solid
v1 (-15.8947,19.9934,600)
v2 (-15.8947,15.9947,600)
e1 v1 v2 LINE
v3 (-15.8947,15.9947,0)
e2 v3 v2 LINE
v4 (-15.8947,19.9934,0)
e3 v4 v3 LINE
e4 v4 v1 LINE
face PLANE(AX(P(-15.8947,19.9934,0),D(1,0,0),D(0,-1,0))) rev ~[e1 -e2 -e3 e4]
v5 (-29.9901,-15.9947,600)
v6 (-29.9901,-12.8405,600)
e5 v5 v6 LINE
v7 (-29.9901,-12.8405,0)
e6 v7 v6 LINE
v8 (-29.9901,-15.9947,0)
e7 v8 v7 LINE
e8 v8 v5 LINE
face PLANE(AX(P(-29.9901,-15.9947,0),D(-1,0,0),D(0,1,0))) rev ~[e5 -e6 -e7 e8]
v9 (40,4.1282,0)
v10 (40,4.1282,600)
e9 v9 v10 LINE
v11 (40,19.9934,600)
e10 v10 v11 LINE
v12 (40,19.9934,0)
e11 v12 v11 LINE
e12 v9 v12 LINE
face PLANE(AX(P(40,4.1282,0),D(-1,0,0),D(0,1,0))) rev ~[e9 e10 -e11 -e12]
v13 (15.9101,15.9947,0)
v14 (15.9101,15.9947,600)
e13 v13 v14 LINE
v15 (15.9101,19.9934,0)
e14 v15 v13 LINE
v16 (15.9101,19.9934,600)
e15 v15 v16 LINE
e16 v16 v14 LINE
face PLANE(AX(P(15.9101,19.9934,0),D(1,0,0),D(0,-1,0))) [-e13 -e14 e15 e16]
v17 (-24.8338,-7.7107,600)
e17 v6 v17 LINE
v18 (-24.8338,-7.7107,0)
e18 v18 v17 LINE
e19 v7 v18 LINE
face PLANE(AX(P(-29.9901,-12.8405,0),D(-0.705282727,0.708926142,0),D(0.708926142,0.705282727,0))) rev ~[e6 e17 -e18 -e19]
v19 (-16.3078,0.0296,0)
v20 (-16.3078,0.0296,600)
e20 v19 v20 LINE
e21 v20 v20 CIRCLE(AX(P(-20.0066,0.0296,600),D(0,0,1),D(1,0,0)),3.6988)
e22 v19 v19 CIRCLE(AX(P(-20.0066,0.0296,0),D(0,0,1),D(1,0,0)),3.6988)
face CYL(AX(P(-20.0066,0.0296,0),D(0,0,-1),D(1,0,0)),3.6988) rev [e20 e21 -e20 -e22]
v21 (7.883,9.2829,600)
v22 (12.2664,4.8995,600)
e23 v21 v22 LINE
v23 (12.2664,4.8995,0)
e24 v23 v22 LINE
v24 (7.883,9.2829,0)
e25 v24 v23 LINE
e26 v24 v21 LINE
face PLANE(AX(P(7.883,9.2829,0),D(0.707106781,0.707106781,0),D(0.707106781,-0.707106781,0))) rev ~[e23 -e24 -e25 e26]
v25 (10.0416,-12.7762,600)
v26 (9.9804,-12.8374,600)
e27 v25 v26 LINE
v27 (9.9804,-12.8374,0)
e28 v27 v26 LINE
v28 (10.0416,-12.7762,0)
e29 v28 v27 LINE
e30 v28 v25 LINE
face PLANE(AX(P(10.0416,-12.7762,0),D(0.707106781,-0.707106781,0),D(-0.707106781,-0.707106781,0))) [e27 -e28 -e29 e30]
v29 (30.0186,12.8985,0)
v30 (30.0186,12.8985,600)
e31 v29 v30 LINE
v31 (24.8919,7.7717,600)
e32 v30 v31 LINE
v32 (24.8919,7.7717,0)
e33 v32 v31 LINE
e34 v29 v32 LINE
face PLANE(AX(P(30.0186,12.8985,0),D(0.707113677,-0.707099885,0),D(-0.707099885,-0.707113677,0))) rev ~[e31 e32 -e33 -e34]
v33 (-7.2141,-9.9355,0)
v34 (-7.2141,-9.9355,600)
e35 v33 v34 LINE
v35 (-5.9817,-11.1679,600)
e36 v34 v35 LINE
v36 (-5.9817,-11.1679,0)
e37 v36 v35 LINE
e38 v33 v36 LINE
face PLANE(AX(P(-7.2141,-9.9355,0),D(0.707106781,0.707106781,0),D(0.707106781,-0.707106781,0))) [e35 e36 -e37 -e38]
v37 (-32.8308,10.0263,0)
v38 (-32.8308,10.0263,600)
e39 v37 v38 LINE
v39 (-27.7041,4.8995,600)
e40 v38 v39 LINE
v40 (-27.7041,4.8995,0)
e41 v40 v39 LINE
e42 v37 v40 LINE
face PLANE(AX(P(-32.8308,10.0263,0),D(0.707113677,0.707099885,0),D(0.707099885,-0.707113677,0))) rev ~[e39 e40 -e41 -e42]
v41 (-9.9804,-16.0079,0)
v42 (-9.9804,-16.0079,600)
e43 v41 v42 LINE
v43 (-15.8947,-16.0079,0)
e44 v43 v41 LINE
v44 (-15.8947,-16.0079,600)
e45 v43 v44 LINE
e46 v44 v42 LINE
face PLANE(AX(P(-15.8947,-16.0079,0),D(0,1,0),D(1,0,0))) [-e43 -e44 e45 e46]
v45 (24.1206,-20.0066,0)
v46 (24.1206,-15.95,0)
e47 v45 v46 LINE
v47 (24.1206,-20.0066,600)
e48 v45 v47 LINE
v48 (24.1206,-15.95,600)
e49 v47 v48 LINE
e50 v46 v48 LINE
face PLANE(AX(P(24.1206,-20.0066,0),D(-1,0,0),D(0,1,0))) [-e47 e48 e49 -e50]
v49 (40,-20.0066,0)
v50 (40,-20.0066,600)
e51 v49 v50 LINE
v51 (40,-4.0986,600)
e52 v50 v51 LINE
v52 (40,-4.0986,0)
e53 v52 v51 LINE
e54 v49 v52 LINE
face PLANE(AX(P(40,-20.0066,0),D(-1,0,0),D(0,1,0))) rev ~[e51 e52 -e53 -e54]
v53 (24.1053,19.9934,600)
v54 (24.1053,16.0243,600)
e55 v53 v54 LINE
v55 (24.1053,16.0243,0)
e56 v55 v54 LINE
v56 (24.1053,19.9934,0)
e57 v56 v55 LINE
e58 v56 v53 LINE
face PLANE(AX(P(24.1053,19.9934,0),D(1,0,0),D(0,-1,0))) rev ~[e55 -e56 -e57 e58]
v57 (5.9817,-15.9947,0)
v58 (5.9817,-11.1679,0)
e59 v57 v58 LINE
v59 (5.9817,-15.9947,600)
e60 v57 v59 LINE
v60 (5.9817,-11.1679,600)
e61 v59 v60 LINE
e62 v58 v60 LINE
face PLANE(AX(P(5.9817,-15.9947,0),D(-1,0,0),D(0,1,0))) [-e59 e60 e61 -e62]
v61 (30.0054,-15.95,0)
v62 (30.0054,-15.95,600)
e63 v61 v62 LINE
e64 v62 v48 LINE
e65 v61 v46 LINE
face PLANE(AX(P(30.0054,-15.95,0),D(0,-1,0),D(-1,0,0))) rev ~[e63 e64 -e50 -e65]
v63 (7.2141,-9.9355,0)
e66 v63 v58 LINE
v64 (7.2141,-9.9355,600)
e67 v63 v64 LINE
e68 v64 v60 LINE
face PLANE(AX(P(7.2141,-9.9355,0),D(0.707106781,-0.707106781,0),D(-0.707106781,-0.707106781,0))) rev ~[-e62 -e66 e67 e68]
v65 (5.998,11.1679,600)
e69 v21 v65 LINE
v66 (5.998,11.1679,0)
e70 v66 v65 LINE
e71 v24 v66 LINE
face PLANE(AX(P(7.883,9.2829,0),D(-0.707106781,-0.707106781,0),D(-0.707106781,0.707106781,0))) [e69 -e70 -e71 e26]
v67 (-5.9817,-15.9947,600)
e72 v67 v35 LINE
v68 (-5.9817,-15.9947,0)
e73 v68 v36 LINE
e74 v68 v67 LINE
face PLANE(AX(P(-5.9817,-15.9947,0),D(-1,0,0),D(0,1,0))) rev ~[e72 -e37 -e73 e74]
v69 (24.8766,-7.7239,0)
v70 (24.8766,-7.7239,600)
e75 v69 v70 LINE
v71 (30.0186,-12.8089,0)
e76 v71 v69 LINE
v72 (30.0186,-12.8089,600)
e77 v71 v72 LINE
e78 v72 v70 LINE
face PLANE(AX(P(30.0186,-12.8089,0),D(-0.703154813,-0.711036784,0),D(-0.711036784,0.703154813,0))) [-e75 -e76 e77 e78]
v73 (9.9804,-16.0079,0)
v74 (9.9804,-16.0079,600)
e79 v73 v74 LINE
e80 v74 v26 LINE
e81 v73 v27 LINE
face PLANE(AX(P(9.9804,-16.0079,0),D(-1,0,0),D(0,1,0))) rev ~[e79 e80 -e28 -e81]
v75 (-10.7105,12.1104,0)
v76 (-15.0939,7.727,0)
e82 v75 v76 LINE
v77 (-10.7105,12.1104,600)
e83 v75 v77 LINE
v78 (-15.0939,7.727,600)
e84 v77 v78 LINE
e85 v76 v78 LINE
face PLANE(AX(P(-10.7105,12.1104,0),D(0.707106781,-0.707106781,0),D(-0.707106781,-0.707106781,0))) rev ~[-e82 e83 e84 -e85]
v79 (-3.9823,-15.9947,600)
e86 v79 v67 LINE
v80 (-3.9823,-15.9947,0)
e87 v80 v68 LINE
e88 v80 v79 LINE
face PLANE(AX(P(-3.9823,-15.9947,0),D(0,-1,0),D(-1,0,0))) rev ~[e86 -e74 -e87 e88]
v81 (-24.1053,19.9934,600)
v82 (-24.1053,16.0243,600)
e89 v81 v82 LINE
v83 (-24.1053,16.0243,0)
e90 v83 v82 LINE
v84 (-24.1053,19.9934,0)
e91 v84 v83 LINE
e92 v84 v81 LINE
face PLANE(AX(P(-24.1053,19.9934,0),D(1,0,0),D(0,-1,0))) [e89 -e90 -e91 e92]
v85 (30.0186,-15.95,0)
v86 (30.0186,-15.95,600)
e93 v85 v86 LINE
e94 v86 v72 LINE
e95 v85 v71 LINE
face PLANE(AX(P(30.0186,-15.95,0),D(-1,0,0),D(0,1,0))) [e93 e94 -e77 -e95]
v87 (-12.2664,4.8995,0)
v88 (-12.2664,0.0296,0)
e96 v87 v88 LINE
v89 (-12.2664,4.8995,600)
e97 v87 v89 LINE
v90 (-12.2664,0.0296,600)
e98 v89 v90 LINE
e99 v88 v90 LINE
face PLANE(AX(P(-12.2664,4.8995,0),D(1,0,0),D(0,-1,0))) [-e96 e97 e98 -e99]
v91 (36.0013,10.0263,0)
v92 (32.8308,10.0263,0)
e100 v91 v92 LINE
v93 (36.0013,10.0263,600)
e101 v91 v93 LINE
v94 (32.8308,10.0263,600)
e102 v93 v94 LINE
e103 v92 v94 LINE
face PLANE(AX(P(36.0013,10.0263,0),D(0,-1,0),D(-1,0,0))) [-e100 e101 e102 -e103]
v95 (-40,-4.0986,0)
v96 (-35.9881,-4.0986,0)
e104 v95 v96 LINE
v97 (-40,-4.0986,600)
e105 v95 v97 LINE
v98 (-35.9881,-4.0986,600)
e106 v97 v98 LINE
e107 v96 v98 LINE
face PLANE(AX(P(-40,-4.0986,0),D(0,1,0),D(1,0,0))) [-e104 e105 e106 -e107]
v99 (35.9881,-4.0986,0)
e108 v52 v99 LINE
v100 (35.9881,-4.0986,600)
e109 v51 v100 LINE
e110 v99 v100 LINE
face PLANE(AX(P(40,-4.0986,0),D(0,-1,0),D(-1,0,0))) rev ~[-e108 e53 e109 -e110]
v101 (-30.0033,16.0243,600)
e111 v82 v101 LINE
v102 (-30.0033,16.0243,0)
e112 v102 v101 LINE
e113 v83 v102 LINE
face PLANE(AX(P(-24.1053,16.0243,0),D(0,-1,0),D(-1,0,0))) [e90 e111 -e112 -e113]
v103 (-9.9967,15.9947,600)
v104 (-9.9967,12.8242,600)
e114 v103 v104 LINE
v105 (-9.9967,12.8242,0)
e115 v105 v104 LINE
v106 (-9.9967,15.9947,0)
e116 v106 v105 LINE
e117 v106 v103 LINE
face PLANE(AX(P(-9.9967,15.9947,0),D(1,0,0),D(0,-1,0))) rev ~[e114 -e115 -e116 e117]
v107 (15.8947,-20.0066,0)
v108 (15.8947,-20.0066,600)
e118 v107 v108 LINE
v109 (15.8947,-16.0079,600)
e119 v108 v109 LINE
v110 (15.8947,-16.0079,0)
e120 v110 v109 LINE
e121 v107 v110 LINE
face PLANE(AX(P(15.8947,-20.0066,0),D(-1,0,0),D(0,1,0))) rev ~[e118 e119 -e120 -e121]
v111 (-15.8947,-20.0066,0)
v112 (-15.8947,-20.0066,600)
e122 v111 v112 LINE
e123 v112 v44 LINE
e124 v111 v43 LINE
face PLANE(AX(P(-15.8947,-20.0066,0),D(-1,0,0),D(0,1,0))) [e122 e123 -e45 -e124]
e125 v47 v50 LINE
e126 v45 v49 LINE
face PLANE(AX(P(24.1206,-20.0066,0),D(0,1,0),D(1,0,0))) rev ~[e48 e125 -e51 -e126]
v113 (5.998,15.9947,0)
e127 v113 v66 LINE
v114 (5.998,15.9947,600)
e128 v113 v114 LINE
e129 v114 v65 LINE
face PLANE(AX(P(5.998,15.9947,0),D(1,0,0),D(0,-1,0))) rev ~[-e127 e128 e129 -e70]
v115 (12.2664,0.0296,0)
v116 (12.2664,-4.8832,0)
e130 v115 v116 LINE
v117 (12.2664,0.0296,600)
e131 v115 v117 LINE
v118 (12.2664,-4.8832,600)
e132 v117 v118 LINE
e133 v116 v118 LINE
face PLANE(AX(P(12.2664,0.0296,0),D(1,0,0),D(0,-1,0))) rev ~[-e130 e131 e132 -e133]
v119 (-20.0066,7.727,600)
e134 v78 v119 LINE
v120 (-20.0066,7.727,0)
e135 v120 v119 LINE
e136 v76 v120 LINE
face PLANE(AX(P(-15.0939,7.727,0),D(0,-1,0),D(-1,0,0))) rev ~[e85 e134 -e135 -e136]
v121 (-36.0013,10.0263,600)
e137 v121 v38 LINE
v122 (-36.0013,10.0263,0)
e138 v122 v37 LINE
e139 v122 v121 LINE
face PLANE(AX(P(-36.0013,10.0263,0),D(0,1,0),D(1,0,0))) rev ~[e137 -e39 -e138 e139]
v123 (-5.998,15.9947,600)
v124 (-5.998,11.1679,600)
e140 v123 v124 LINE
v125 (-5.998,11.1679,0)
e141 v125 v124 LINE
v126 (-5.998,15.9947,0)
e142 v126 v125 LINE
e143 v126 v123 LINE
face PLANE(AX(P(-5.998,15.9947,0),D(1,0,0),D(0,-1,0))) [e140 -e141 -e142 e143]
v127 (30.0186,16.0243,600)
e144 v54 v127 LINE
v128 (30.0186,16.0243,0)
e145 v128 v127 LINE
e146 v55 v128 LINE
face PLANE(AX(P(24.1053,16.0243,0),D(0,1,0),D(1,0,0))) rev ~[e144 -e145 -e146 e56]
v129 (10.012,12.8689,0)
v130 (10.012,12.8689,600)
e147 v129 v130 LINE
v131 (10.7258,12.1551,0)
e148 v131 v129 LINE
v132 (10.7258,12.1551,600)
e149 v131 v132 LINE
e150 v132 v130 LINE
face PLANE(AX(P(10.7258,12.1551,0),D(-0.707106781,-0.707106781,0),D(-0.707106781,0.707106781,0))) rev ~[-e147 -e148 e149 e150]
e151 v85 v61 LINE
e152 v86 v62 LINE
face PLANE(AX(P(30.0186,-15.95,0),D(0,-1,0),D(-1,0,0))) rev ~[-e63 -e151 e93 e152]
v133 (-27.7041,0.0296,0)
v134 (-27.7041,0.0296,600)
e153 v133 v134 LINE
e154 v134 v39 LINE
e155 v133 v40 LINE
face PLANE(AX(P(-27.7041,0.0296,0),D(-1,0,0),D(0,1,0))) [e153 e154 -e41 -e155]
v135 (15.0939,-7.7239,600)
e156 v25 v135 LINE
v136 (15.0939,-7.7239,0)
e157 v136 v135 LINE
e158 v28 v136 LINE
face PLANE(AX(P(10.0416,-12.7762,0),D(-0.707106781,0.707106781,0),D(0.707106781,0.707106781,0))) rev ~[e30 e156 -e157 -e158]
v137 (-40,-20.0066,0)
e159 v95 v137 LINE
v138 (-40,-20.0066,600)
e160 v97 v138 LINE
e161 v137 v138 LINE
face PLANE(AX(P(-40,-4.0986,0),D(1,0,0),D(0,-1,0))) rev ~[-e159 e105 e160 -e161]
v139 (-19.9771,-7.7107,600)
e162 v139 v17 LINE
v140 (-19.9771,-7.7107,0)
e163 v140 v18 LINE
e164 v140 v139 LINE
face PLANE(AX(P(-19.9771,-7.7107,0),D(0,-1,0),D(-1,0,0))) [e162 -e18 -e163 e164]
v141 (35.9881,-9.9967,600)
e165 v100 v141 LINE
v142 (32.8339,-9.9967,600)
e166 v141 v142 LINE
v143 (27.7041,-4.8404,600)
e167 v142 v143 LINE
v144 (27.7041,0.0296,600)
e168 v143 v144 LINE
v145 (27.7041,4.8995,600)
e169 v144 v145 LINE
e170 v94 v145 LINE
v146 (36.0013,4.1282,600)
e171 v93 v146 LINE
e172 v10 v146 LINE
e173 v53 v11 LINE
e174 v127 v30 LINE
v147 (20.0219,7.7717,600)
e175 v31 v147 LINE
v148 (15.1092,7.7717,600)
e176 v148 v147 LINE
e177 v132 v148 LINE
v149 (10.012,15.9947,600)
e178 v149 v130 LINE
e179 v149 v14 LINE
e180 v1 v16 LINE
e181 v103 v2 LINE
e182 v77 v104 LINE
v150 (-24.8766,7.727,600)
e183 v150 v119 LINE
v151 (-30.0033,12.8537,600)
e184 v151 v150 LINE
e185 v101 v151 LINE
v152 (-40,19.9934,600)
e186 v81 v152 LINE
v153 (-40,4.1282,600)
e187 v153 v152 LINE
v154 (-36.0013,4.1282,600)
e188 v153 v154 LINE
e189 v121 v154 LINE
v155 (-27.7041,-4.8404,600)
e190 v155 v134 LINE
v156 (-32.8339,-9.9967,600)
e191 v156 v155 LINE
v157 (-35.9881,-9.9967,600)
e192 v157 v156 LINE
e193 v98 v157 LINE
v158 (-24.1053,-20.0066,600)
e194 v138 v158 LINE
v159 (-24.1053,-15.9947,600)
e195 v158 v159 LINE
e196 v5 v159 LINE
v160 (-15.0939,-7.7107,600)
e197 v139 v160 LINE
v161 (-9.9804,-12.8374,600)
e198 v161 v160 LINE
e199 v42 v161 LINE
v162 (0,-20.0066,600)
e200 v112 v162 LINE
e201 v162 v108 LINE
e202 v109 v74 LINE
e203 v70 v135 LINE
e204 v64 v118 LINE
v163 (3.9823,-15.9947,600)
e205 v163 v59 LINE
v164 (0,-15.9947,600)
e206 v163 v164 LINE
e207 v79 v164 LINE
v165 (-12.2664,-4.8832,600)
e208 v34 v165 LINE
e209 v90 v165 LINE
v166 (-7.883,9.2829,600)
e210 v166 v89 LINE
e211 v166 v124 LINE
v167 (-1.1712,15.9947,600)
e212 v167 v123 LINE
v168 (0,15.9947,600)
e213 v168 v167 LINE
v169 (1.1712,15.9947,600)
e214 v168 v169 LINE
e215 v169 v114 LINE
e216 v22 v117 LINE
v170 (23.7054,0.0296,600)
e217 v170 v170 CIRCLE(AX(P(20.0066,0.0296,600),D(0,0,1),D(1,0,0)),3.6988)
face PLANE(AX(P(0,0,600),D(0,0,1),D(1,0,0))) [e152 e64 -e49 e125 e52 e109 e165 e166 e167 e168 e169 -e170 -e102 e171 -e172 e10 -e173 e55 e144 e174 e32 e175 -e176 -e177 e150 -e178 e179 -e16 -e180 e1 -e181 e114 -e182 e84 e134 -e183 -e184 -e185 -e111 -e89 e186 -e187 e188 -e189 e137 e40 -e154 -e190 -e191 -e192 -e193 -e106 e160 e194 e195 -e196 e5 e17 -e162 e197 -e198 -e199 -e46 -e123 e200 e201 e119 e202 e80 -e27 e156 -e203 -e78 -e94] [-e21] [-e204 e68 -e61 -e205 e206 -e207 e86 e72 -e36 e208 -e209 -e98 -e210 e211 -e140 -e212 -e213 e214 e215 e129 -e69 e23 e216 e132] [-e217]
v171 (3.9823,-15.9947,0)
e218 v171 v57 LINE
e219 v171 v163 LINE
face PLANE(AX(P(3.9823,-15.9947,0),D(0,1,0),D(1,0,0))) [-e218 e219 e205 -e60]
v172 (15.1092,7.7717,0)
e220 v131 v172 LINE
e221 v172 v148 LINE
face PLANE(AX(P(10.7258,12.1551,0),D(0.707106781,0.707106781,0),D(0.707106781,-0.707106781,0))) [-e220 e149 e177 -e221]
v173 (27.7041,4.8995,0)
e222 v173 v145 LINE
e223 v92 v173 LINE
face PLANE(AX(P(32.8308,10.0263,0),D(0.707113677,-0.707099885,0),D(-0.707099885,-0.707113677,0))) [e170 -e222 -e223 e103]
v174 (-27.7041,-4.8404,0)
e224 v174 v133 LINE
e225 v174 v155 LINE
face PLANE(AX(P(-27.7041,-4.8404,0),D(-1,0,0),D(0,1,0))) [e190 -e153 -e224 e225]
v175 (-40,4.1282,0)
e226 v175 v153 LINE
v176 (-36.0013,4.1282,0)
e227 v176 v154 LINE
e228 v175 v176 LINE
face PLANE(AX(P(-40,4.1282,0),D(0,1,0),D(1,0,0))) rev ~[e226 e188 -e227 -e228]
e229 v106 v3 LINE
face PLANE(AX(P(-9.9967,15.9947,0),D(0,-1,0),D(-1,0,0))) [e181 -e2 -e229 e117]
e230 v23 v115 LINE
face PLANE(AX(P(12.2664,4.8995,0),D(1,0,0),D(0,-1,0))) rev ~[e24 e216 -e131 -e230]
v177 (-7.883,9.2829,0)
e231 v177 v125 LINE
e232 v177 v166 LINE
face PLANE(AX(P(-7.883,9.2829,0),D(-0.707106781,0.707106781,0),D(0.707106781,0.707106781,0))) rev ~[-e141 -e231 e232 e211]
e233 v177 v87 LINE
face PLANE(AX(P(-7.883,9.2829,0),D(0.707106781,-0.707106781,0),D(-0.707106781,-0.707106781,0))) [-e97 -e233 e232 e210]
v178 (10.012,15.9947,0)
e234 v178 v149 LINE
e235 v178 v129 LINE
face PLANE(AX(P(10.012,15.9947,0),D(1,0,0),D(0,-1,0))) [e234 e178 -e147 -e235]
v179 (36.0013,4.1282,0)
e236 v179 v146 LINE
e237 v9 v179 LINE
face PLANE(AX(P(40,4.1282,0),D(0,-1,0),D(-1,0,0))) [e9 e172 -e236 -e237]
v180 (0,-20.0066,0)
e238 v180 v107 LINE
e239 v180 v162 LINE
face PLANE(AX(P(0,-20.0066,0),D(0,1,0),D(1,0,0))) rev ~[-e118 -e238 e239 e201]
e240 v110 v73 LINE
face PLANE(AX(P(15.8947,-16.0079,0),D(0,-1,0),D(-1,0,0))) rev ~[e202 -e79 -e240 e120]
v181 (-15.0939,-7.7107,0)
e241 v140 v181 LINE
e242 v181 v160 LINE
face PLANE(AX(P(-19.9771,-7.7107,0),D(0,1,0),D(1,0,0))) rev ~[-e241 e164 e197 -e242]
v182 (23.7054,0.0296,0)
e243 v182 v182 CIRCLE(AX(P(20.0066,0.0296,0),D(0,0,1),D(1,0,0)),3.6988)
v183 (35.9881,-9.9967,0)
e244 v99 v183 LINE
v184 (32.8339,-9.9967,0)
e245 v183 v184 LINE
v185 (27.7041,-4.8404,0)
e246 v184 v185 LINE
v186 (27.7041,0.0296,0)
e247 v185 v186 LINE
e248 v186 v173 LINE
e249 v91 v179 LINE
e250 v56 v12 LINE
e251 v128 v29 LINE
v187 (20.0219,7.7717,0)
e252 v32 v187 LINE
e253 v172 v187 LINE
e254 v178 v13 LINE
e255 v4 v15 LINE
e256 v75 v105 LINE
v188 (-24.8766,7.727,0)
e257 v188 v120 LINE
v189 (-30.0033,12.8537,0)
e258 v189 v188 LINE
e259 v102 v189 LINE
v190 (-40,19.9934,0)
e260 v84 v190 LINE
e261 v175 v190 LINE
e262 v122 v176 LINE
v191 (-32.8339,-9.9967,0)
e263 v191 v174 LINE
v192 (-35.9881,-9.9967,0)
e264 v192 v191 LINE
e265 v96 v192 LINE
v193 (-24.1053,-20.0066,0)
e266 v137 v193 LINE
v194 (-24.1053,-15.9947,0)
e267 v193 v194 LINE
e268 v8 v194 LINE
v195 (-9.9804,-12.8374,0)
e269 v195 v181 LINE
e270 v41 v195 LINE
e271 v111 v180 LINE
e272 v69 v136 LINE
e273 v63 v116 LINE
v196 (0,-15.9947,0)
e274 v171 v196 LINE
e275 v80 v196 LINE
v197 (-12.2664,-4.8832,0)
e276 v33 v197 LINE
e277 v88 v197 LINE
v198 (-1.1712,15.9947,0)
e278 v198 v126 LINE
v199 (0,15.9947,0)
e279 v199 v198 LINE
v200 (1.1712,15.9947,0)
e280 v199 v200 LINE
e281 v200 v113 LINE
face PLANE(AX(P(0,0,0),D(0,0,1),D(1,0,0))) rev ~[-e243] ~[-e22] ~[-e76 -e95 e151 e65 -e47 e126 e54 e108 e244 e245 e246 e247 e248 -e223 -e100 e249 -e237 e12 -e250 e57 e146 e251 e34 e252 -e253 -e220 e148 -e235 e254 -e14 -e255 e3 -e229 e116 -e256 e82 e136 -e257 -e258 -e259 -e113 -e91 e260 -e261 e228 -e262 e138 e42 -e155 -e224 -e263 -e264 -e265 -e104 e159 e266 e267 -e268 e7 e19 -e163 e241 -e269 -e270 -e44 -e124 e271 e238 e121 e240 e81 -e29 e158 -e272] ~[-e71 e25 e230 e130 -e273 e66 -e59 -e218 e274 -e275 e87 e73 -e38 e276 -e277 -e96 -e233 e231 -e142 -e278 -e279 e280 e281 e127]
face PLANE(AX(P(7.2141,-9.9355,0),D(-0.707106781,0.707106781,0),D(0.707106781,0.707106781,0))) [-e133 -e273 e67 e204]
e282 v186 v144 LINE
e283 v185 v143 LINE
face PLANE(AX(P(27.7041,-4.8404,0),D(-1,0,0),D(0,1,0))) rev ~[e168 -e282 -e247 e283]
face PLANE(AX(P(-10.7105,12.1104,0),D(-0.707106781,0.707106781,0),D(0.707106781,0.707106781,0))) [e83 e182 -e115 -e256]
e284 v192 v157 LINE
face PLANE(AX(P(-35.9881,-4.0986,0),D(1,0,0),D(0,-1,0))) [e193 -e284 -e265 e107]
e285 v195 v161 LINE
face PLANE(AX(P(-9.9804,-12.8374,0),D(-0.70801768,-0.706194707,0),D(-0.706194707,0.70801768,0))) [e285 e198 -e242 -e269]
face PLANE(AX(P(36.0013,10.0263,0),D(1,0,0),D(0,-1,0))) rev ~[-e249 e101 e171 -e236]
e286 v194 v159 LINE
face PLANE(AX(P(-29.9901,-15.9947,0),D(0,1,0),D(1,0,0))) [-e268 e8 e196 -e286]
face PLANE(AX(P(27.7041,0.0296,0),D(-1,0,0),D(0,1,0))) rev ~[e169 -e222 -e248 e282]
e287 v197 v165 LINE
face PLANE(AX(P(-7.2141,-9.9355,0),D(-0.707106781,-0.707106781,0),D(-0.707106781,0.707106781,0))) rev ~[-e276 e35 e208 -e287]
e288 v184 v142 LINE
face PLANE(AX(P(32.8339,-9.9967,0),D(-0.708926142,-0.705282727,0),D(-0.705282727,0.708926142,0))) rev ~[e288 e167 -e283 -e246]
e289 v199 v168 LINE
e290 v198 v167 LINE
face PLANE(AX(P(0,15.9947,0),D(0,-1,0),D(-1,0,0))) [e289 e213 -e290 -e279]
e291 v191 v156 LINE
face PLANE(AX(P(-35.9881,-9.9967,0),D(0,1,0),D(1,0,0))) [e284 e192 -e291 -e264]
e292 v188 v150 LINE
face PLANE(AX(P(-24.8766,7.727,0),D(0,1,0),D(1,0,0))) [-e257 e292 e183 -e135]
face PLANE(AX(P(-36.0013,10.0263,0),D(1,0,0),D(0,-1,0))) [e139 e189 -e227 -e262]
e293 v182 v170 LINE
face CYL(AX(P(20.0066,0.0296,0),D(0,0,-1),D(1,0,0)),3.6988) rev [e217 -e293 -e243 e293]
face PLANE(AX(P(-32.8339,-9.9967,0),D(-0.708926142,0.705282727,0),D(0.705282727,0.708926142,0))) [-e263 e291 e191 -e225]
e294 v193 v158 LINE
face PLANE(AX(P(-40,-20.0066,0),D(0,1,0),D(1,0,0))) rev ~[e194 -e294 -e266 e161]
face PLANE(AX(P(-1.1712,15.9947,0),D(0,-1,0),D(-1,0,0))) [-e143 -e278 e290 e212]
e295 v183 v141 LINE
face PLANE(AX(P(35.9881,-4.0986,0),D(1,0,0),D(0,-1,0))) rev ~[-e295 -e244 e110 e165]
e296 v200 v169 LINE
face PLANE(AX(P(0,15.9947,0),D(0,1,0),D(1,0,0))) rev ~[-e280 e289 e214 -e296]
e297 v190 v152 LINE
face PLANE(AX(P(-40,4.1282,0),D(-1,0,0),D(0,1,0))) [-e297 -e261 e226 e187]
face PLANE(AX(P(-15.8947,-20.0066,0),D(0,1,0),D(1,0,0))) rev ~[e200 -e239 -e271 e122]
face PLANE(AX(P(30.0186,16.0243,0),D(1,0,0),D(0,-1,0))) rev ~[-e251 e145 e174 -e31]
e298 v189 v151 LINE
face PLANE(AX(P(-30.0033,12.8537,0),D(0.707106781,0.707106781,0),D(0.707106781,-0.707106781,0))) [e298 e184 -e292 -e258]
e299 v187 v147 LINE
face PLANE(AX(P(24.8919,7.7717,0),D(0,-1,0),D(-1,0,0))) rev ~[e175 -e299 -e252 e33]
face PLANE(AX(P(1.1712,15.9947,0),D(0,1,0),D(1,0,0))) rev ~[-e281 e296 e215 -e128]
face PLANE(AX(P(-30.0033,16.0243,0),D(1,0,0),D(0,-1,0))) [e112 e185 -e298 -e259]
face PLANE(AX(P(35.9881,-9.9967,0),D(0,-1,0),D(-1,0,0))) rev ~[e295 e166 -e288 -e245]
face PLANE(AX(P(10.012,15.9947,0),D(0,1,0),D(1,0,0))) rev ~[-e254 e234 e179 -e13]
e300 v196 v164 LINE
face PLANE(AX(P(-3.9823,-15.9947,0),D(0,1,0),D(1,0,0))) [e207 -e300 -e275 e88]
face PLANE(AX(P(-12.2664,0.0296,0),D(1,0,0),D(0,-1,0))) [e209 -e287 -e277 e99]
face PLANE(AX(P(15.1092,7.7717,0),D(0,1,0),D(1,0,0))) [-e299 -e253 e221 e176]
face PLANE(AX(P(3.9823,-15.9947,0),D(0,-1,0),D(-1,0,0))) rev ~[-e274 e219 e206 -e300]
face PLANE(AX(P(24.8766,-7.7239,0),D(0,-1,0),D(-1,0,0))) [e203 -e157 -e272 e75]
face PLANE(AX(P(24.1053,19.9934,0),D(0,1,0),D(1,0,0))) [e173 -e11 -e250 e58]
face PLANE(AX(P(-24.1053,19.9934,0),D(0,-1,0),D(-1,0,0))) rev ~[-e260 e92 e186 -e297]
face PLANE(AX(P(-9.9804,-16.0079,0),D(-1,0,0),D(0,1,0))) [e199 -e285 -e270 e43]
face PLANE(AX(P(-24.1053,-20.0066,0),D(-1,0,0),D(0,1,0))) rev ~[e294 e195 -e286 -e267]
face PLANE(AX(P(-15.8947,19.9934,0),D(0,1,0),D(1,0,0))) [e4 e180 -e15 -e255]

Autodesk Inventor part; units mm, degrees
ref_plane "YZ Plane" through (0, 0, 0) normal (1, 0, 0) x (0, 1, 0)
ref_plane "XZ Plane" through (0, 0, 0) normal (0, 1, 0) x (-1, 0, 0)
ref_plane "XY Plane" through (0, 0, 0) normal (0, 0, 1) x (1, 0, 0)
sketch "Szkic1" plane through (0, 0, 0) normal (0, 0, 1) x (1, 0, 0)
  line L0 (-40, -20.0066) -> (-24.1053, -20.0066)
  circle A0 centre (-20.0066, 0.0296) radius 3.6988
  line L1 (-24.1053, 19.9934) -> (-24.1053, 16.0243)
  line L2 (-15.8947, 19.9934) -> (-15.8947, 15.9947)
  line L3 (-40, -4.0986) -> (-35.9881, -4.0986)
  line L4 (-40, 4.1282) -> (-36.0013, 4.1282)
  line L5 (-24.1053, -20.0066) -> (-24.1053, -15.9947)
  line L6 (-15.8947, -20.0066) -> (-15.8947, -16.0079)
  line L7 (-36.0013, 10.0263) -> (-36.0013, 4.1282)
  line L8 (-35.9881, -4.0986) -> (-35.9881, -9.9967)
  line L9 (-24.1053, 16.0243) -> (-30.0033, 16.0243)
  line L10 (-24.1053, 19.9934) -> (-40, 19.9934)
  line L11 (-29.9901, -15.9947) -> (-24.1053, -15.9947)
  line L12 (-40, -20.0066) -> (-24.1053, -20.0066)
  line L13 (-27.7041, 0.0296) -> (-27.7041, 4.8995)
  line L14 (-24.8766, 7.727) -> (-20.0066, 7.727)
  line L15 (-15.0939, 7.727) -> (-20.0066, 7.727)
  line L16 (-12.2664, 4.8995) -> (-12.2664, 0.0296)
  line L17 (-12.2664, 0.0296) -> (-12.2664, -4.8832)
  line L18 (-19.9771, -7.7107) -> (-15.0939, -7.7107)
  line L19 (-19.9771, -7.7107) -> (-24.8338, -7.7107)
  line L20 (-27.7041, -4.8404) -> (-27.7041, 0.0296)
  line L21 (-30.0033, 12.8537) -> (-24.8766, 7.727)
  line L22 (-32.8308, 10.0263) -> (-27.7041, 4.8995)
  line L23 (-30.0033, 16.0243) -> (-30.0033, 12.8537)
  line L24 (-36.0013, 10.0263) -> (-32.8308, 10.0263)
  line L25 (-32.8339, -9.9967) -> (-27.7041, -4.8404)
  line L26 (-29.9901, -12.8405) -> (-24.8338, -7.7107)
  line L27 (-29.9901, -12.8405) -> (-30.0033, -12.8536)
  line L28 (-30.0033, -15.9947) -> (-29.9901, -15.9947)
  line L29 (-29.9901, -15.9947) -> (-29.9901, -12.8405)
  line L30 (-35.9881, -9.9967) -> (-32.8339, -9.9967)
  line L31 (-7.883, 9.2829) -> (-5.998, 11.1679)
  line L32 (-7.883, 9.2829) -> (-12.2664, 4.8995)
  line L33 (-10.7105, 12.1104) -> (-9.9967, 12.8242)
  line L34 (-10.7105, 12.1104) -> (-15.0939, 7.727)
  line L35 (-40, 19.9934) -> (-40, 19.9934)
  line L36 (-9.9967, 15.9947) -> (-9.9967, 12.8242)
  line L37 (0, 15.9947) -> (-1.1712, 15.9947)
  line L38 (-9.9967, 15.9947) -> (-15.8947, 15.9947)
  line L39 (-7.2141, -9.9355) -> (-5.9817, -11.1679)
  line L40 (-7.2141, -9.9355) -> (-12.2664, -4.8832)
  line L41 (-3.9823, -15.9947) -> (-5.9817, -15.9947)
  line L42 (-9.9804, -16.0079) -> (-9.9804, -12.8374)
  line L43 (-5.998, 15.9947) -> (-5.998, 11.1679)
  line L44 (-1.1712, 15.9947) -> (-5.998, 15.9947)
  line L45 (-9.9967, 15.9947) -> (-9.9804, 15.9947)
  line L46 (-5.998, -15.9947) -> (-5.9817, -15.9947)
  line L47 (-5.9817, -15.9947) -> (-5.9817, -11.1679)
  line L48 (-15.8947, -16.0079) -> (-9.9804, -16.0079)
  line L49 (-5.9817, -15.9947) -> (0, -15.9947)
  circle A1 centre (20.0066, 0.0296) radius 3.6988
  line L50 (24.1053, 19.9934) -> (24.1053, 16.0243)
  line L51 (15.9101, 19.9934) -> (15.9101, 15.9947)
  line L52 (40, -4.0986) -> (35.9881, -4.0986)
  line L53 (40, 4.1282) -> (36.0013, 4.1282)
  line L54 (24.1206, -20.0066) -> (24.1206, -15.95)
  line L55 (15.8947, -20.0066) -> (15.8947, -16.0079)
  line L56 (36.0013, 10.0263) -> (36.0013, 4.1282)
  line L57 (35.9881, -4.0986) -> (35.9881, -9.9967)
  line L58 (24.1053, 16.0243) -> (30.0186, 16.0243)
  line L59 (24.1053, 19.9934) -> (40, 19.9934)
  line L60 (30.0054, -15.95) -> (24.1206, -15.95)
  line L61 (27.7041, 0.0296) -> (27.7041, 4.8995)
  line L62 (24.8919, 7.7717) -> (20.0219, 7.7717)
  line L63 (15.1092, 7.7717) -> (20.0219, 7.7717)
  line L64 (12.2664, 4.8995) -> (12.2664, 0.0296)
  line L65 (12.2664, 0.0296) -> (12.2664, -4.8832)
  line L66 (27.7041, -4.8404) -> (27.7041, 0.0296)
  line L67 (30.0186, 12.8985) -> (24.8919, 7.7717)
  line L68 (32.8308, 10.0263) -> (27.7041, 4.8995)
  line L69 (30.0186, 16.0243) -> (30.0186, 12.8985)
  line L70 (36.0013, 10.0263) -> (32.8308, 10.0263)
  line L71 (32.8339, -9.9967) -> (27.7041, -4.8404)
  line L72 (30.0186, -15.95) -> (30.0054, -15.95)
  line L73 (35.9881, -9.9967) -> (32.8339, -9.9967)
  line L74 (7.883, 9.2829) -> (5.998, 11.1679)
  line L75 (7.883, 9.2829) -> (12.2664, 4.8995)
  line L76 (10.7258, 12.1551) -> (10.012, 12.8689)
  line L77 (10.7258, 12.1551) -> (15.1092, 7.7717)
  line L78 (40, 19.9934) -> (40, 19.9934)
  line L79 (10.012, 15.9947) -> (10.012, 12.8689)
  line L80 (0, 15.9947) -> (1.1712, 15.9947)
  line L81 (10.012, 15.9947) -> (15.9101, 15.9947)
  line L82 (7.2141, -9.9355) -> (5.9817, -11.1679)
  line L83 (7.2141, -9.9355) -> (12.2664, -4.8832)
  line L84 (10.0416, -12.7762) -> (15.0939, -7.7239)
  line L85 (3.9823, -15.9947) -> (5.9817, -15.9947)
  line L86 (9.9804, -16.0079) -> (9.9804, -12.8374)
  line L87 (10.0416, -12.7762) -> (9.9804, -12.8374)
  line L88 (5.998, 15.9947) -> (5.998, 11.1679)
  line L89 (1.1712, 15.9947) -> (5.998, 15.9947)
  line L90 (10.012, 15.9947) -> (9.9804, 15.9947)
  line L91 (5.998, -15.9947) -> (5.9817, -15.9947)
  line L92 (5.9817, -15.9947) -> (5.9817, -11.1679)
  line L93 (15.8947, -16.0079) -> (9.9804, -16.0079)
  line L94 (5.9817, -15.9947) -> (0, -15.9947)
  line L95 (0, 16.0243) -> (0, 15.9947)
  line L96 (0, -20.0066) -> (0, -19.9934)
  line L97 (0, -16.0079) -> (0, -15.9947)
  line L98 (-40, 4.1282) -> (-40, 19.9934)
  line L99 (-40, -4.0986) -> (-40, -20.0066)
  line L100 (40, 4.1282) -> (40, 19.9934)
  line L101 (40, -20.0066) -> (40, -4.0986)
  line L102 (24.1206, -20.0066) -> (40, -20.0066)
  line L103 (24.8766, -7.7239) -> (15.0939, -7.7239)
  line L104 (30.0186, -15.95) -> (30.0186, -12.8089)
  line L105 (30.0186, -12.8089) -> (24.8766, -7.7239)
  line L106 (-15.8947, -20.0066) -> (15.8947, -20.0066)
  line L107 (-9.9804, -12.8374) -> (-15.0939, -7.7107)
  line L108 (-15.8947, 19.9934) -> (15.9101, 19.9934)
  point P0 (0, 0)
  dimension "d54" = 40
  dimension "d56" = 80
  dimension "d57" = 80
  dimension "d61" = 40
  dimension "d62" = 40
  dimension "d65" = 0
  dimension "d66" = 0
extrude "Wyciągnięcie proste2" add sketch "Szkic1" along normal blind 600
properties part number "Profil aluminiowy alutec K&K 104080"
